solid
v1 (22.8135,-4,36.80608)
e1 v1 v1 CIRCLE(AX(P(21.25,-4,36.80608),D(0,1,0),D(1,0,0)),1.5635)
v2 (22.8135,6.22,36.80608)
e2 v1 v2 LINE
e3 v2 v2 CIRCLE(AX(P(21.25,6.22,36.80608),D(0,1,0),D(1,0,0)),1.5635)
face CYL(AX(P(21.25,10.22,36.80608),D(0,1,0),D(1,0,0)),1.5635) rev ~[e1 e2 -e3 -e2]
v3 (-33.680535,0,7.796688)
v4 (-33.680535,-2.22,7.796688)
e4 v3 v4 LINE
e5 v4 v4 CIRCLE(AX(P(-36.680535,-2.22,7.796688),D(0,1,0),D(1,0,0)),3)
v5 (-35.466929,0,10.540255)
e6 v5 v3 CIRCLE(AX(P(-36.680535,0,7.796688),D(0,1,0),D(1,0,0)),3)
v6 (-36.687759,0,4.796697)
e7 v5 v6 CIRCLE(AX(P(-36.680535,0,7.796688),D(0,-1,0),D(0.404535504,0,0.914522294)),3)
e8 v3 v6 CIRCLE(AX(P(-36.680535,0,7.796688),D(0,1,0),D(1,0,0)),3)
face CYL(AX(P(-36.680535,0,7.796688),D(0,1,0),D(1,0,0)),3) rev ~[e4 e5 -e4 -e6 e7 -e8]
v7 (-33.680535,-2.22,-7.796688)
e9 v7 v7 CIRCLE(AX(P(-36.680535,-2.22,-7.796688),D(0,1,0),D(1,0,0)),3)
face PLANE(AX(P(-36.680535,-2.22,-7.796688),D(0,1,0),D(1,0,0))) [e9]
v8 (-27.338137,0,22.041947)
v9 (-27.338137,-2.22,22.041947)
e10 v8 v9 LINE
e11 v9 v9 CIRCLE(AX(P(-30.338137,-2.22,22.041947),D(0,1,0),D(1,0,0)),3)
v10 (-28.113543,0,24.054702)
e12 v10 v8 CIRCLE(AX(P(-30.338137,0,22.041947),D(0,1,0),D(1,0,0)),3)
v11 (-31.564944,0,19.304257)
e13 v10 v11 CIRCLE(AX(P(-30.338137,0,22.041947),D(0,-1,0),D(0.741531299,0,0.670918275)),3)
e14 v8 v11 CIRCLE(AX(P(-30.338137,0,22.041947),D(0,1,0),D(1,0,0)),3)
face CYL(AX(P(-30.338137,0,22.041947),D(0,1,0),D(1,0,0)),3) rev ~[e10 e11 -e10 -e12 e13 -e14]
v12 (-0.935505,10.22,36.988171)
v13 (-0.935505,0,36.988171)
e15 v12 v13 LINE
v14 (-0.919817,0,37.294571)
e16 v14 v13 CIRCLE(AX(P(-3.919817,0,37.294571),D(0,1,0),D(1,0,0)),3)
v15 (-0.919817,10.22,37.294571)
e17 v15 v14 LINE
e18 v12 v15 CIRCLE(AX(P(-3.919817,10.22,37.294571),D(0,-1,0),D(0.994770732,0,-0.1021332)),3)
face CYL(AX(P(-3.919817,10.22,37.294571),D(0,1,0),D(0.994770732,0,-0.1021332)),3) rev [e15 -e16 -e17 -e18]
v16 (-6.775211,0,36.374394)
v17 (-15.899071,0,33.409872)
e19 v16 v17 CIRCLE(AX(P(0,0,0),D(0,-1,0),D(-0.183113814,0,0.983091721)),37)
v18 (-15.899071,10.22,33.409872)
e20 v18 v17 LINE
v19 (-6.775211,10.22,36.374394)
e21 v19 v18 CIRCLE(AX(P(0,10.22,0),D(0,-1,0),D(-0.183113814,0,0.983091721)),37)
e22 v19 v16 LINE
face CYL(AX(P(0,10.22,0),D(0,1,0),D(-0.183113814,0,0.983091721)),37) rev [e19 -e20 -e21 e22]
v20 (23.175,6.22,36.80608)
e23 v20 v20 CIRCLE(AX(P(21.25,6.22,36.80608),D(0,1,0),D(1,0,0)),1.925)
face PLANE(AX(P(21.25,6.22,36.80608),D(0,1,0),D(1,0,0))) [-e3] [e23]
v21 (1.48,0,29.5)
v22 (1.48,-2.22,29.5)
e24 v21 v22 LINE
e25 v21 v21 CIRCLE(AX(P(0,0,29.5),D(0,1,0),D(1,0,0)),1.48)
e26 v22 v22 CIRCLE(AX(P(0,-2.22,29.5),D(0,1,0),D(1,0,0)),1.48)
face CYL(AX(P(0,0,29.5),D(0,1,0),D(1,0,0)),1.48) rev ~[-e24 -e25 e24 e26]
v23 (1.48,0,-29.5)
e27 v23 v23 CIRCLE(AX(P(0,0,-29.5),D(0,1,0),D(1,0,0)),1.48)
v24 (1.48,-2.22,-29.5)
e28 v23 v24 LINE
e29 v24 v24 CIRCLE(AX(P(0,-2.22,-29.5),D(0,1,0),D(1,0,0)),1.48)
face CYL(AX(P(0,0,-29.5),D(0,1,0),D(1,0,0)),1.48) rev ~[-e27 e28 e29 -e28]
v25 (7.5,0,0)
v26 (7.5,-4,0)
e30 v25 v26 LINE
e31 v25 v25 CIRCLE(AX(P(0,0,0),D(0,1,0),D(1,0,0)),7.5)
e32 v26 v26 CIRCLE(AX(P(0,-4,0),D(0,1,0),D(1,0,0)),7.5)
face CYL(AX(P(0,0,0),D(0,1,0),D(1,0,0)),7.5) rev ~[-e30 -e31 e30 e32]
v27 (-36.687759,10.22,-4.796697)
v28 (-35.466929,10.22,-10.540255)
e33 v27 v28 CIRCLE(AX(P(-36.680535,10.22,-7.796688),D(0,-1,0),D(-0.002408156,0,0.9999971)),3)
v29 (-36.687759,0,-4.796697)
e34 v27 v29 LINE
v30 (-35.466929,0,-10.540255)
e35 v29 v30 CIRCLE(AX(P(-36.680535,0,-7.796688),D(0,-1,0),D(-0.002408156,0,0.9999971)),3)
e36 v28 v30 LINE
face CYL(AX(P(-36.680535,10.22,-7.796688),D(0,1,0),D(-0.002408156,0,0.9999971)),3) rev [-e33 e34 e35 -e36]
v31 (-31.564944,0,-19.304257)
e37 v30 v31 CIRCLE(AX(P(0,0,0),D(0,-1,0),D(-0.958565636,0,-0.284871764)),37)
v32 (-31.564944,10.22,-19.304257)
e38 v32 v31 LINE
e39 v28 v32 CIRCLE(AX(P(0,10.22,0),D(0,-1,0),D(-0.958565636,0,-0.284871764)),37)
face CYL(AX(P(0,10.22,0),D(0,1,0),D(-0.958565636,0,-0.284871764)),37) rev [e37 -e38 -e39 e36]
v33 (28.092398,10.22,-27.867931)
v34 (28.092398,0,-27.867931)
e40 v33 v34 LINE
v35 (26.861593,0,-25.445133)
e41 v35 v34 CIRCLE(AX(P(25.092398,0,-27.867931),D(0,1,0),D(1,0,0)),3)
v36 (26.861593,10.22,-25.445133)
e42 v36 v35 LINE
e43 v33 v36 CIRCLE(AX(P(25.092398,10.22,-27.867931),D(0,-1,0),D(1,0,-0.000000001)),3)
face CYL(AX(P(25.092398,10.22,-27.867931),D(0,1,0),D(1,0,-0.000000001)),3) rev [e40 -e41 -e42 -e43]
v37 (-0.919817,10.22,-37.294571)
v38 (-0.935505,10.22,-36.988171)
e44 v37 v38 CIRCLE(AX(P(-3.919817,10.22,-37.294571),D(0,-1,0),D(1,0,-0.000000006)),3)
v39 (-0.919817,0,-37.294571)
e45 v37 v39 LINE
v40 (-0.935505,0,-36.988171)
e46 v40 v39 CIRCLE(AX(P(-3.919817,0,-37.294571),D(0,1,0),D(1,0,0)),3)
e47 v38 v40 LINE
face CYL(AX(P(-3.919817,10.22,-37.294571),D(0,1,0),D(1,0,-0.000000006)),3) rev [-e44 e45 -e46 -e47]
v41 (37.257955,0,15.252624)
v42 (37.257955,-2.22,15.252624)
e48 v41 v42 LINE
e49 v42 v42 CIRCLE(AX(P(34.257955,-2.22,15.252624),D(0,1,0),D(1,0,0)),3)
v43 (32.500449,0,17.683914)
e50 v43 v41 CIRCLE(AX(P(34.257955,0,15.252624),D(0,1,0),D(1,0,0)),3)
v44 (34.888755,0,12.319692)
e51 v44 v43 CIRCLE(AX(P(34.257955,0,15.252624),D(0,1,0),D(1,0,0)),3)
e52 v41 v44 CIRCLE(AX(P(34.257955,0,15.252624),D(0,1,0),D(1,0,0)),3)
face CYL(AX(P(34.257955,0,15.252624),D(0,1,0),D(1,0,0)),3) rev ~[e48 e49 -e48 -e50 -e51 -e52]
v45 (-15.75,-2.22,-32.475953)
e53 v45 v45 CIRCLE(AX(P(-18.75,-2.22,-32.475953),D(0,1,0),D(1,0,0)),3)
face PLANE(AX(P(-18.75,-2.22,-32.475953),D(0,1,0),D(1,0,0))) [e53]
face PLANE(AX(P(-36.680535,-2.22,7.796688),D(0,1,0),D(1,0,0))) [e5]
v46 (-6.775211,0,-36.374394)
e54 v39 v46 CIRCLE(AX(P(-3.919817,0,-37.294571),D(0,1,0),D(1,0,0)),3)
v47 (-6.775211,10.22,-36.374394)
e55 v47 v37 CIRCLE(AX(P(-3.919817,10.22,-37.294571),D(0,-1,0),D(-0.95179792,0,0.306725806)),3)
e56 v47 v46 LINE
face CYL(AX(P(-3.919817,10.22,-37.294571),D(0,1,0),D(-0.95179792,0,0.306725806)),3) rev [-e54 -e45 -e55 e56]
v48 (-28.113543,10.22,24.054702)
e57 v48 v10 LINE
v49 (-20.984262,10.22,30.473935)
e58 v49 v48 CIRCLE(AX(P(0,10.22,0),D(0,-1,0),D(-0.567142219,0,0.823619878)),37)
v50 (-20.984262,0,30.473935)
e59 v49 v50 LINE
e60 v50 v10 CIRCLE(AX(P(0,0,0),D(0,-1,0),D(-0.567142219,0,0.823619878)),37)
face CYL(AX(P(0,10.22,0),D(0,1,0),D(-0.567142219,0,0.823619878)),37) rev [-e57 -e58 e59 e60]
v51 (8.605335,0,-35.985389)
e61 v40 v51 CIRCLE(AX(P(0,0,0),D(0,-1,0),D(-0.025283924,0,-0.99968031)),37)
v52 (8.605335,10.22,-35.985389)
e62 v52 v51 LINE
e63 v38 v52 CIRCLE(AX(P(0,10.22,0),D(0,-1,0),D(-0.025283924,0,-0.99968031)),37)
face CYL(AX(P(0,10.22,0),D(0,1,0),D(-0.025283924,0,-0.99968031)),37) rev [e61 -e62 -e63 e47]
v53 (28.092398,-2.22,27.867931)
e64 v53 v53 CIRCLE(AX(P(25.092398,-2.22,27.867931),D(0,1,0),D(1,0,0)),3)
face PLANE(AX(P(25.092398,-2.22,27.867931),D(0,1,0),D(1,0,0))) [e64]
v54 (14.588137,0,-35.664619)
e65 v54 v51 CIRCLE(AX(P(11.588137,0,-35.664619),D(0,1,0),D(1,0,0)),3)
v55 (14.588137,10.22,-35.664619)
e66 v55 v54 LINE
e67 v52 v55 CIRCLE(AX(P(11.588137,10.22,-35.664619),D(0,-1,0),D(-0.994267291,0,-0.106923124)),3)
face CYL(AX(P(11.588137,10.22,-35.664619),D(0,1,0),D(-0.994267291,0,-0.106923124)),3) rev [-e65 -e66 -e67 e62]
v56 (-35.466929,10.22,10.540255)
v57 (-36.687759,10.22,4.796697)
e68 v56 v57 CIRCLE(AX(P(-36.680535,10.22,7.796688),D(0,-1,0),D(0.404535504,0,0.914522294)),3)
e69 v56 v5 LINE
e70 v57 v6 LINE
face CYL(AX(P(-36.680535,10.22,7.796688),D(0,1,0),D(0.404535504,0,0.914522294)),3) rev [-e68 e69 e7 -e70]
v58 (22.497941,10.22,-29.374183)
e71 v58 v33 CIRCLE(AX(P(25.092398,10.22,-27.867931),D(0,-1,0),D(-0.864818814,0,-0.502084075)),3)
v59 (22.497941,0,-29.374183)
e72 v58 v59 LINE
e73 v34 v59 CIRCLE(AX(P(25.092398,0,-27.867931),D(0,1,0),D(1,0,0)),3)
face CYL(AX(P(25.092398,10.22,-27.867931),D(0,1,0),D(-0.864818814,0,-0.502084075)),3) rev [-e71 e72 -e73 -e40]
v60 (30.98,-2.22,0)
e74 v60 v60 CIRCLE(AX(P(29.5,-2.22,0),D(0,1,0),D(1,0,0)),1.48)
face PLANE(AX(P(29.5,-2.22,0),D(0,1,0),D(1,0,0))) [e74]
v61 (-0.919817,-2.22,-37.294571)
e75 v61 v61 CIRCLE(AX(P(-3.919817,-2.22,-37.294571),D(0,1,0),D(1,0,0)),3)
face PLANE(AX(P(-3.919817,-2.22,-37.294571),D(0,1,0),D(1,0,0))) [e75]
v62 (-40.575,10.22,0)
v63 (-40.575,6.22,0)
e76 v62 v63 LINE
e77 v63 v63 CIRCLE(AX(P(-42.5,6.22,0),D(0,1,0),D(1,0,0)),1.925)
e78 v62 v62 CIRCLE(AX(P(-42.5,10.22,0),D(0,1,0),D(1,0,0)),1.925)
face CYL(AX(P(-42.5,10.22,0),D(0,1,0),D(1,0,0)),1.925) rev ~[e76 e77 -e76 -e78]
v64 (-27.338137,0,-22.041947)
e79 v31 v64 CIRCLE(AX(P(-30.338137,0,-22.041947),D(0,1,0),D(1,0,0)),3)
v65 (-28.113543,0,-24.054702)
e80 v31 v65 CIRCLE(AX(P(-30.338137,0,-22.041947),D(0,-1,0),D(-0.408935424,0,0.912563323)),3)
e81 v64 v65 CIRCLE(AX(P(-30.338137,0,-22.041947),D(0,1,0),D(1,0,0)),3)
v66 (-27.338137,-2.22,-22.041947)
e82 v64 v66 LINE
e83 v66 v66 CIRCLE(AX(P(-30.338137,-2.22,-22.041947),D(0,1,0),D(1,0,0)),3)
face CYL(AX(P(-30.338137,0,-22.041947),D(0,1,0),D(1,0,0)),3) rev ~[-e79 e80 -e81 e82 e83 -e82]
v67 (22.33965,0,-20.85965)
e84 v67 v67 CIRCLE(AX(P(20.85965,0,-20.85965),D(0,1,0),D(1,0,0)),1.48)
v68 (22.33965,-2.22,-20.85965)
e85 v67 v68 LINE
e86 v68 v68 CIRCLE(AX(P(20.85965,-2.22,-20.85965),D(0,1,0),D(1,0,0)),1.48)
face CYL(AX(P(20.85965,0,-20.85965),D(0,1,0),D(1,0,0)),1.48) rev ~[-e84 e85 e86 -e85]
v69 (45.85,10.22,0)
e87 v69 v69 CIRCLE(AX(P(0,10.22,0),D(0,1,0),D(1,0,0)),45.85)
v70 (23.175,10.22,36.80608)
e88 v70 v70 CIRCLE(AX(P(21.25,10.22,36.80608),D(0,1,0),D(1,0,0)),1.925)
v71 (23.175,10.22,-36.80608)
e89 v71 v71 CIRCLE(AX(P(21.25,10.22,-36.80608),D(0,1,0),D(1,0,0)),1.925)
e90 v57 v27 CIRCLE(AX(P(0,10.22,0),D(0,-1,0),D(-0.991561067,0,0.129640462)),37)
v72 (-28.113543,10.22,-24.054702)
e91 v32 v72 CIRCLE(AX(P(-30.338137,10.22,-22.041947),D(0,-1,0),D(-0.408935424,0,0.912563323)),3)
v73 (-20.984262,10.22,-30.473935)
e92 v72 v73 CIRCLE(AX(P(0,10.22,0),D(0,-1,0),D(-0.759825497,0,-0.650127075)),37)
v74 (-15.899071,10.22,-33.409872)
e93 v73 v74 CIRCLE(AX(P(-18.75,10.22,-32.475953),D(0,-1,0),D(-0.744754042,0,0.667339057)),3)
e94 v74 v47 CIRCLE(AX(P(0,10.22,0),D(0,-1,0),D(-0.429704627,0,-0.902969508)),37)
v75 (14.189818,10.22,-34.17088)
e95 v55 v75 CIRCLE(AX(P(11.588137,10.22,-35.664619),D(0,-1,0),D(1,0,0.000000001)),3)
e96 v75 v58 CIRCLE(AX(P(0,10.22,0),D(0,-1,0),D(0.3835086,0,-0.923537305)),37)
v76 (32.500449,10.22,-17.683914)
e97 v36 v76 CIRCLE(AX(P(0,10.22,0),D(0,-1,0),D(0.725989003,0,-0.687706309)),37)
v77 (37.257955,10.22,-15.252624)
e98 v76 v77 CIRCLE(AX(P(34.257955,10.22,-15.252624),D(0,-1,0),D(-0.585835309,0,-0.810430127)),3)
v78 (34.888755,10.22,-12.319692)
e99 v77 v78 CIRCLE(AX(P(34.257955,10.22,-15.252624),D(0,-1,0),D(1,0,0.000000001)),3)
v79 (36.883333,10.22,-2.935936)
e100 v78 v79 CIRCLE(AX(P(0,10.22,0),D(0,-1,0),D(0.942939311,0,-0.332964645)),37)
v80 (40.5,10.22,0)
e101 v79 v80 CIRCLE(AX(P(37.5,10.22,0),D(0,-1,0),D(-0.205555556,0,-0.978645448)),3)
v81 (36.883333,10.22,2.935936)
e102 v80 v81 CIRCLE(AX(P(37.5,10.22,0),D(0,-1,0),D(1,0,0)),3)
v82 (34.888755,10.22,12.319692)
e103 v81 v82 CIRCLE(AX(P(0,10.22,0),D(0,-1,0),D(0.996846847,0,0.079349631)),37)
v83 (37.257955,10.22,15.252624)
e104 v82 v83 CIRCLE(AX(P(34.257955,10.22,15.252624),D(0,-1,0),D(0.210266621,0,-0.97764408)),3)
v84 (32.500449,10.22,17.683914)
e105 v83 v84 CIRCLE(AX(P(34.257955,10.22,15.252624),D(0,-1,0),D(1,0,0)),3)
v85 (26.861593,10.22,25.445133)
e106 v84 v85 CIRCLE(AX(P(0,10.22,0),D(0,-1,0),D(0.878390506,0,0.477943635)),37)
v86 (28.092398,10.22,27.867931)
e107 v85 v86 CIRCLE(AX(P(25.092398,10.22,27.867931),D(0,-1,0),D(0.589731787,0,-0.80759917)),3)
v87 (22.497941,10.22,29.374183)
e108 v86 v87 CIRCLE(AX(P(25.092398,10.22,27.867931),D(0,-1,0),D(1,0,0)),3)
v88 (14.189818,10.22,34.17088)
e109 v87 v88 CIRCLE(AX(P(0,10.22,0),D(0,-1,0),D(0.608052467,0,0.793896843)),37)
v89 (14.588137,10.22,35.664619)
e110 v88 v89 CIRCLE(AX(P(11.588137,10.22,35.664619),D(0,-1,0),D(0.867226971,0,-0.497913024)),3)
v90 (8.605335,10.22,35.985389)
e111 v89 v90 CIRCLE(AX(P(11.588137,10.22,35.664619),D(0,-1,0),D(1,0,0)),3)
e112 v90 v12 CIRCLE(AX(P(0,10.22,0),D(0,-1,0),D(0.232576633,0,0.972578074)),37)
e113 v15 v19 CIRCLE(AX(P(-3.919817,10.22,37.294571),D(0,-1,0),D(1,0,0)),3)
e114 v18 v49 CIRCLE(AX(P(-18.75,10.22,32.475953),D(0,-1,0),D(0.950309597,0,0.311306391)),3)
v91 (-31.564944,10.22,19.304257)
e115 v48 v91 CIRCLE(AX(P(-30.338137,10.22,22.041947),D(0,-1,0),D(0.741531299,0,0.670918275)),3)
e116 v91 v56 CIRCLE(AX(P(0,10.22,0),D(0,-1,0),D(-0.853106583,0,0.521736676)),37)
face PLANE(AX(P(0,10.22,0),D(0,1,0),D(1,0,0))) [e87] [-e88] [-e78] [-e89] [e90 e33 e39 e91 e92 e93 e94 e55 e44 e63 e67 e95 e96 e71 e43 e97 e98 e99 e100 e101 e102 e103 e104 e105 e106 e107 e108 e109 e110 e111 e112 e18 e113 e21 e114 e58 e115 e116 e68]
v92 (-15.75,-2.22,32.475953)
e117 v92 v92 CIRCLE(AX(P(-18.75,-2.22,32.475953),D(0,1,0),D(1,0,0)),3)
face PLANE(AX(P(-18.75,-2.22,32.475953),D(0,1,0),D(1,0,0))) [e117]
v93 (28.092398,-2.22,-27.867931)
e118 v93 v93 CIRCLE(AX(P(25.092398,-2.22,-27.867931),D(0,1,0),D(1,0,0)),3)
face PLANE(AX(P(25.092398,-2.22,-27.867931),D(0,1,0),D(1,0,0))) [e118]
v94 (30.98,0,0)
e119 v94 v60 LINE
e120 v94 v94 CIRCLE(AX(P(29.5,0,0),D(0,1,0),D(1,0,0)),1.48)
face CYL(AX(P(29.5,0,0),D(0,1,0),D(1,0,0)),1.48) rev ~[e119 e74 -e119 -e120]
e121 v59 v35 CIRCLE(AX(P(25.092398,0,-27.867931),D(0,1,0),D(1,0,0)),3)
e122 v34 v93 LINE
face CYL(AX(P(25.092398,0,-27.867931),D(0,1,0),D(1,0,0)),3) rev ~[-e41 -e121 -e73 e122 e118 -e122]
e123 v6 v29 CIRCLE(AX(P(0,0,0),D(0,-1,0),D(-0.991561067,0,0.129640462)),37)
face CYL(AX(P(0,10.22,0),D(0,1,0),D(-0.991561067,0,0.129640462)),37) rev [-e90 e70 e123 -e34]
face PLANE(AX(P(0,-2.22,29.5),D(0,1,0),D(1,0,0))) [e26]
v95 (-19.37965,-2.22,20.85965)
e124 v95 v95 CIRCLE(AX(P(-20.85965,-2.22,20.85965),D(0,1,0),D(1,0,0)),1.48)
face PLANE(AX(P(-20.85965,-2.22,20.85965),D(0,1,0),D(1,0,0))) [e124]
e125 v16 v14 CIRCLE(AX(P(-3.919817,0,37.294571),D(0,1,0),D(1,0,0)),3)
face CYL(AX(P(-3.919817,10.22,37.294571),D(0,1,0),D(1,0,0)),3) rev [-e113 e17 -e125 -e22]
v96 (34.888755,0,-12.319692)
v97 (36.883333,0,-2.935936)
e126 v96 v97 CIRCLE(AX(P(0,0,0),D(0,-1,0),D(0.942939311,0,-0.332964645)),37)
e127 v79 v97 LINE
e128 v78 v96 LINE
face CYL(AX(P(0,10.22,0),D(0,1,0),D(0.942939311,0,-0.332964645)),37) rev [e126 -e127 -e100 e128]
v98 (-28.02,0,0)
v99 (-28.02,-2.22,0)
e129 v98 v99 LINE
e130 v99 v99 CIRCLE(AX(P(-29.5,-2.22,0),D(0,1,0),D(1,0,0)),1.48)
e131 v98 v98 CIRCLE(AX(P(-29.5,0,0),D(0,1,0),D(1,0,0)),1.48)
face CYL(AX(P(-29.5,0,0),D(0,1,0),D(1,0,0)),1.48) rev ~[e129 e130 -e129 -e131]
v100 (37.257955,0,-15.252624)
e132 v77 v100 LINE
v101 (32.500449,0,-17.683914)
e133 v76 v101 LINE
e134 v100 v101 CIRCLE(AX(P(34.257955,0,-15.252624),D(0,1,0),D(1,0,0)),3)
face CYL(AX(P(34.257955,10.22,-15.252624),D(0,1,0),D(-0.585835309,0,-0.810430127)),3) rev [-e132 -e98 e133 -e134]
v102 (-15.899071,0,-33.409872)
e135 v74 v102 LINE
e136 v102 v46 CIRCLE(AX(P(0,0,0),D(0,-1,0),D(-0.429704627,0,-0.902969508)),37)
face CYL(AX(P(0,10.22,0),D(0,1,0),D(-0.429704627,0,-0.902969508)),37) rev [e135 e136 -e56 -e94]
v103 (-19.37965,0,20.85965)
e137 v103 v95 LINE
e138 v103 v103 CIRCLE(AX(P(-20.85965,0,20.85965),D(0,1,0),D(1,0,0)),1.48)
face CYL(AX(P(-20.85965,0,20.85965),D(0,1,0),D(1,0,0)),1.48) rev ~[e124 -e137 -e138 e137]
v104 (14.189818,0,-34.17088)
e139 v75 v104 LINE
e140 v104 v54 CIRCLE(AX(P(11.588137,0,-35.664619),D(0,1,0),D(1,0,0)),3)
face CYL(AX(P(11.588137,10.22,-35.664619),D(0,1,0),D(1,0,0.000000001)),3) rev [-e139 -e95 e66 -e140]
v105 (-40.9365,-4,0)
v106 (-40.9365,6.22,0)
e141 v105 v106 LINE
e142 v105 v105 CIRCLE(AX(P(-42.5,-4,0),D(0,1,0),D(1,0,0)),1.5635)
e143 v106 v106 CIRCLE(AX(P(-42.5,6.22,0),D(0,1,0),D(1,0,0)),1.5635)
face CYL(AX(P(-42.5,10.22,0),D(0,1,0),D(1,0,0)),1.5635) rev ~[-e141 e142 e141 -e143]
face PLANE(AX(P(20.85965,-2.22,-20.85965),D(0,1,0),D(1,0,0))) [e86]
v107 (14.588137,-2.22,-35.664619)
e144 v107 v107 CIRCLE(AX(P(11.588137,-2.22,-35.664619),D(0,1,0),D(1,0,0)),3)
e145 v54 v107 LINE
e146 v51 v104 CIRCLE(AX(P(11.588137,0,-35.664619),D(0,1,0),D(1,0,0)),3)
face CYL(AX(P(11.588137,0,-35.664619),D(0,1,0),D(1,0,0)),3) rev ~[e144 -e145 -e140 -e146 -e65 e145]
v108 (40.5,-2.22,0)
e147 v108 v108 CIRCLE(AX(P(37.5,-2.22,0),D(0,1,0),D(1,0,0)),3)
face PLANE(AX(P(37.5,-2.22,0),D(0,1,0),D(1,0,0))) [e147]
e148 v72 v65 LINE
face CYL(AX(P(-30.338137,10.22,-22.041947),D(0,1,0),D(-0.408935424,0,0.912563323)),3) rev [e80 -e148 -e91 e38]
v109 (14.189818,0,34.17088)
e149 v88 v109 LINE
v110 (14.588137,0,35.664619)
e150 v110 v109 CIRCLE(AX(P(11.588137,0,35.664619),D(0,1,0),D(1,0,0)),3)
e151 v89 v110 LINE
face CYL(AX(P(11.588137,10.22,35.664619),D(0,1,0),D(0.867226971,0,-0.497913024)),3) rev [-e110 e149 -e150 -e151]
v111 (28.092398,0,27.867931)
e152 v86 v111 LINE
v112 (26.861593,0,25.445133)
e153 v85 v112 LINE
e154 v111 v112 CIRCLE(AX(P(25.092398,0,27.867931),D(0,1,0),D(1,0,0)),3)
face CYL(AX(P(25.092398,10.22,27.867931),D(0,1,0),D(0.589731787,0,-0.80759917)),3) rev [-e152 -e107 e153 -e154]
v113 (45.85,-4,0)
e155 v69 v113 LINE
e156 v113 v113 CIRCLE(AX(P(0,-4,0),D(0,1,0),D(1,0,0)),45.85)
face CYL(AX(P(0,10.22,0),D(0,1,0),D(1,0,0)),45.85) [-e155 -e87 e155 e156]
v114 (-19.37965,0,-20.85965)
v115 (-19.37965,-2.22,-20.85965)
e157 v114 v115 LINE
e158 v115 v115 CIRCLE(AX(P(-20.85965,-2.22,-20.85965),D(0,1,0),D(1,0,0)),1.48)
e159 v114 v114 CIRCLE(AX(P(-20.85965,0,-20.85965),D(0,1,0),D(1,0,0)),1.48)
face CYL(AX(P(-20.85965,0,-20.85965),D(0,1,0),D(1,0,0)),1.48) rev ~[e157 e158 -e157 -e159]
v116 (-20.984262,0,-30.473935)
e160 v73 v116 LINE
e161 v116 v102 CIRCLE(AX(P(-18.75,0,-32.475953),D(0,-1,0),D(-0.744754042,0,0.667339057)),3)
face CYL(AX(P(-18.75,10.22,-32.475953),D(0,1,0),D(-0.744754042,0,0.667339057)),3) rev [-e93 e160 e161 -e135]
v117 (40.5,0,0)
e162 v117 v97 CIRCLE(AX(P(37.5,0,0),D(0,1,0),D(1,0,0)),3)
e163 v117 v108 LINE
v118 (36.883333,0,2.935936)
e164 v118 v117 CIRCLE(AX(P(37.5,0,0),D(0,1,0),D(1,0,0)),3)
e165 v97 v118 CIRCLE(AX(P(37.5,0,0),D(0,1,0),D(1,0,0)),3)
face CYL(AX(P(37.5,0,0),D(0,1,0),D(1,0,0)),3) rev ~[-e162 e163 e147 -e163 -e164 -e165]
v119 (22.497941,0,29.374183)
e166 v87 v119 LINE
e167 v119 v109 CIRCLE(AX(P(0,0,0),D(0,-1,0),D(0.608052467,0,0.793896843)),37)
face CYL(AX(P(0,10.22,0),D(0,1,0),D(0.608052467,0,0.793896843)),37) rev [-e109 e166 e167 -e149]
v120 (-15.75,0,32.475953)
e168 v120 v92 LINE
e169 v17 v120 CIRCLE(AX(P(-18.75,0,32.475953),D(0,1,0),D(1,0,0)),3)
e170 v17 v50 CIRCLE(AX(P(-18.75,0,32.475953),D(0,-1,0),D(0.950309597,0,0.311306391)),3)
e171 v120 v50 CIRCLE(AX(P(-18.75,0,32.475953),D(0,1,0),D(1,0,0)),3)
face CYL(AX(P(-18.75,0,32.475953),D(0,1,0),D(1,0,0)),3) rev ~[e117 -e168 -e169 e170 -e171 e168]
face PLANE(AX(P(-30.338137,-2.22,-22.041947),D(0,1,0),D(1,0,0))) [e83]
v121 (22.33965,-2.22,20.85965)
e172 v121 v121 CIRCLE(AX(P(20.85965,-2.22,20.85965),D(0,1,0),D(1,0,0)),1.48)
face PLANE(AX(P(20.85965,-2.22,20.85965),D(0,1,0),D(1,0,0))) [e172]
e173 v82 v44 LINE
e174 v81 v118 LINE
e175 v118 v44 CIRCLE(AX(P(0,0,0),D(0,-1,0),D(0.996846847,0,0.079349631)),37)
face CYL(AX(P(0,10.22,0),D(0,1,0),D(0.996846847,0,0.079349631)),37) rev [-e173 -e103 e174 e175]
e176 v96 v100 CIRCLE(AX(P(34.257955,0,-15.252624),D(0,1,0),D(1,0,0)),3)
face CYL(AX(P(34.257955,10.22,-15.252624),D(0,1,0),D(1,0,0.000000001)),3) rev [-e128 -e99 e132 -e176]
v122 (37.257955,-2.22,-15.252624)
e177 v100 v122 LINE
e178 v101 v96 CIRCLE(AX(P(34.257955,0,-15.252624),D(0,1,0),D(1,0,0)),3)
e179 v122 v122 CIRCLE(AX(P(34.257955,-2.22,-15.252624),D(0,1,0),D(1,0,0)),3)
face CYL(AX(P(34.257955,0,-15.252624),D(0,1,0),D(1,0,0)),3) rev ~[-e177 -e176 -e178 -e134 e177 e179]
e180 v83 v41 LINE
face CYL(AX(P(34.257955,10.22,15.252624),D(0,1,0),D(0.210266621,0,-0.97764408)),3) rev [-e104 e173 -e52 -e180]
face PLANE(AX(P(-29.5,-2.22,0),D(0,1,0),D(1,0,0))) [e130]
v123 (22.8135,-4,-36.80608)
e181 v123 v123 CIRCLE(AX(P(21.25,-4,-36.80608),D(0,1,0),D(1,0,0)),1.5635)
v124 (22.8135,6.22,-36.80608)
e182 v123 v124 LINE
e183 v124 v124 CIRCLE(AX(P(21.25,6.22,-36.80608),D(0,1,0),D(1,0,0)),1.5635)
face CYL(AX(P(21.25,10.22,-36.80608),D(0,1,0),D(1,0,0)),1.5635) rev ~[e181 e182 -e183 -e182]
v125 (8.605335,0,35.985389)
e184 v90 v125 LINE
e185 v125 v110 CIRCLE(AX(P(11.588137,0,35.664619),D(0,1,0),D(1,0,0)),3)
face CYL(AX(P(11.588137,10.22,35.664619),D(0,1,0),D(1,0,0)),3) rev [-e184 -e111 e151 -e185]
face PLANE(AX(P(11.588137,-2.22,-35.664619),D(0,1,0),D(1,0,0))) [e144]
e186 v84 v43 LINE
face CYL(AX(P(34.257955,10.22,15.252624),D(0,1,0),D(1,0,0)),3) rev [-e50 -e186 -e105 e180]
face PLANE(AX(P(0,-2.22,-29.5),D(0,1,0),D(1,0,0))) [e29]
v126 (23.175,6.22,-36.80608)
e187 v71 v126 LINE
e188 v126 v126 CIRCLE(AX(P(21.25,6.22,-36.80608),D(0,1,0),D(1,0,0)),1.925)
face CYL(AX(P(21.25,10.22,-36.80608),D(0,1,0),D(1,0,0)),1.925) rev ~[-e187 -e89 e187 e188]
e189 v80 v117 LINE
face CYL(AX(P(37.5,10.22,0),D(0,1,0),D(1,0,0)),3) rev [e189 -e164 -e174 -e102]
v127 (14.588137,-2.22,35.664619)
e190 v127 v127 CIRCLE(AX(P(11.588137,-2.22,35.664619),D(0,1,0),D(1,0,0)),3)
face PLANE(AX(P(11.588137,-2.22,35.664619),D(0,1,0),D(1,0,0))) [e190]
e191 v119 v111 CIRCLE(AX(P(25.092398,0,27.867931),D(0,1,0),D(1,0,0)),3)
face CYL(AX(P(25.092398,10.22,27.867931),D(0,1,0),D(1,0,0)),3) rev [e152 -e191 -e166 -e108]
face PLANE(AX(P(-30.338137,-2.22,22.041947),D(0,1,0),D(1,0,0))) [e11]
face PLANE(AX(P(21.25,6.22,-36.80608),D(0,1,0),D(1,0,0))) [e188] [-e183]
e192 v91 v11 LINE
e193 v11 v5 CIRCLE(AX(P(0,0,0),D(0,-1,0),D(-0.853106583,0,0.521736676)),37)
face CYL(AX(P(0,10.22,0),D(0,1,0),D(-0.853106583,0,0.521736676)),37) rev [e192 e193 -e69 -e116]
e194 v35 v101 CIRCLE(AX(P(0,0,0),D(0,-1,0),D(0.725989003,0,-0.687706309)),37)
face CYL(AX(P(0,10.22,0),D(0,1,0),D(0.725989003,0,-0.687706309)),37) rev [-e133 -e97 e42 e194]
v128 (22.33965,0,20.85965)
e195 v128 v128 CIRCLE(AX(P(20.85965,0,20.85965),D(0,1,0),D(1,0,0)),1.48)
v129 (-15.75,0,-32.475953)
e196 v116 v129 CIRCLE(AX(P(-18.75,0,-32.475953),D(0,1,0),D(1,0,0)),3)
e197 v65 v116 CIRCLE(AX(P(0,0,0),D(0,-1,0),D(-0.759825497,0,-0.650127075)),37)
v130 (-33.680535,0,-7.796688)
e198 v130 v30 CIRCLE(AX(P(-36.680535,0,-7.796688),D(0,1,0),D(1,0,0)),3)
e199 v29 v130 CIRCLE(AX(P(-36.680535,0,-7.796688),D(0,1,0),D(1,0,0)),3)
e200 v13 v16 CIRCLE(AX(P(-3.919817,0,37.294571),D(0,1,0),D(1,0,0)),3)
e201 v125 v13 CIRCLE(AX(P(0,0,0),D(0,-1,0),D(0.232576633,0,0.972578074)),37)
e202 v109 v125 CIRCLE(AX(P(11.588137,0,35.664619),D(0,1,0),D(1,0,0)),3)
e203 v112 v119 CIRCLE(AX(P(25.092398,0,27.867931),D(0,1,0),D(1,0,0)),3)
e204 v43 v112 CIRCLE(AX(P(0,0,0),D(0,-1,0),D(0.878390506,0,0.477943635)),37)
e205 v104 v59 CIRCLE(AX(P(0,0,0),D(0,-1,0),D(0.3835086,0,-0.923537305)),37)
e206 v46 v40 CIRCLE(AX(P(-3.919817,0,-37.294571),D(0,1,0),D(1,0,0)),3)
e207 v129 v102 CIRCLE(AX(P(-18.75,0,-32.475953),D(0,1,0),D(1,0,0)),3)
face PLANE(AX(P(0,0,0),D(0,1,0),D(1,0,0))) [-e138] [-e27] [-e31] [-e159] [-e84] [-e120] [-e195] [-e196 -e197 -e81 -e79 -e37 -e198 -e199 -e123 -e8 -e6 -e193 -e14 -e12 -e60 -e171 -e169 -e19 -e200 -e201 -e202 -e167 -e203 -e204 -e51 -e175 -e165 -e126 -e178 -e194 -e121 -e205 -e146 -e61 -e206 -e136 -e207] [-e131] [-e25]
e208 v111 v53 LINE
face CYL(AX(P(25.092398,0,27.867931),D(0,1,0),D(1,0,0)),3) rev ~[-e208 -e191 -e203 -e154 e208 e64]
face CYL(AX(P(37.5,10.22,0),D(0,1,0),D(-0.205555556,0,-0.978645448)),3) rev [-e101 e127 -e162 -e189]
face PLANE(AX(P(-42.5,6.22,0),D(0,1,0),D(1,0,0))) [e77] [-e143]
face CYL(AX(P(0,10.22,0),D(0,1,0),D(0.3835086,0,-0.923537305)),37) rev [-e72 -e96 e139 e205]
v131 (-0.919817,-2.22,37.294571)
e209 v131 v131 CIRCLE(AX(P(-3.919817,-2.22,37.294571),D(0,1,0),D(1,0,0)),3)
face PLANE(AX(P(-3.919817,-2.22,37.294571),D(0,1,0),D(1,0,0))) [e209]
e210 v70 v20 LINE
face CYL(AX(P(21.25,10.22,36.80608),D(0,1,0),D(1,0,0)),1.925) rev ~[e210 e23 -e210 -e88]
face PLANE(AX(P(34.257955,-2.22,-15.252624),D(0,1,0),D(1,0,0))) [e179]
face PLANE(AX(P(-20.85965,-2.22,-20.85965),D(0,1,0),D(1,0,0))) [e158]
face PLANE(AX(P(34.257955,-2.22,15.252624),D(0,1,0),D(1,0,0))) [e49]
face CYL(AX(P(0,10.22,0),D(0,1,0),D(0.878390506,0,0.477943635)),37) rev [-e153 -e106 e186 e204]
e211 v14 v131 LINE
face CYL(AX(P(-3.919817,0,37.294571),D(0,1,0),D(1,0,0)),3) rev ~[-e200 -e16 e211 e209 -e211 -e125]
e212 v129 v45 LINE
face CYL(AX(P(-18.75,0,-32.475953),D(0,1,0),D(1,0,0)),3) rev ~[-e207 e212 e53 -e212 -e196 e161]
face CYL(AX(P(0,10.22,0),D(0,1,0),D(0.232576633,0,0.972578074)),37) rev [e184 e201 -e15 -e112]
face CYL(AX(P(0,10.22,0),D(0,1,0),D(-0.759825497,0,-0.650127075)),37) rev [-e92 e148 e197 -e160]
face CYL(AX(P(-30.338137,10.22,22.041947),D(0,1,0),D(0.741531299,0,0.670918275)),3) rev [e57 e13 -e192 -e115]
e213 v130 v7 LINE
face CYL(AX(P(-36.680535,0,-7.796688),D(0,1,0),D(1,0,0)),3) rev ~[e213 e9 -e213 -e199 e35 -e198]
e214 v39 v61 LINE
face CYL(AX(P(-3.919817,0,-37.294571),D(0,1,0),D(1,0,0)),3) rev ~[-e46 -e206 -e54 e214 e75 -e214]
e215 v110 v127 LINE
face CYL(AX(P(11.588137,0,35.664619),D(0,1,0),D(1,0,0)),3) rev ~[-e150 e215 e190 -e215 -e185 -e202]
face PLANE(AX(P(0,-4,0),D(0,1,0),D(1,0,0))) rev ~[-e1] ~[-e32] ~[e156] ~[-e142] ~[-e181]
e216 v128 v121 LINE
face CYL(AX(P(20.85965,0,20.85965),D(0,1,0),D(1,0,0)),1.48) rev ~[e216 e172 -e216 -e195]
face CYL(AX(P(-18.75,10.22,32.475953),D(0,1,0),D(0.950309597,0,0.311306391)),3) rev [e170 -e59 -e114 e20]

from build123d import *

# Parameters (mm, degrees)
SKETCH1_R           = 45.85
SKETCH1_R_2         = 1.5635
SKETCH1_R_3         = 7.5
BOSS_EXTRUDE1_DEPTH = 4
SKETCH1_6_R         = 3
SKETCH1_6_R_2       = 1.48
CUT_EXTRUDE1_DEPTH  = 2.22
BOSS_EXTRUDE2_START = 10.22
SKETCH1_7_R         = 45.85
SKETCH1_7_R_2       = 1.5635
BOSS_EXTRUDE2_DEPTH = 10.22
SKETCH2_R           = 1.925
CUT_EXTRUDE2_DEPTH  = 4


with BuildPart() as part:
    # Sketch1 → Boss-Extrude1 (new body)
    with BuildSketch(Plane(origin=(0, 0, 0), x_dir=(1, 0, 0), z_dir=(0, 1, 0))):
        Circle(SKETCH1_R)
        with Locations((-42.5, 0)):
            Circle(SKETCH1_R_2, mode=Mode.SUBTRACT)
        with Locations((21.25, -36.806079661)):
            Circle(SKETCH1_R_2, mode=Mode.SUBTRACT)
        with Locations((21.25, 36.806079661)):
            Circle(SKETCH1_R_2, mode=Mode.SUBTRACT)
        Circle(SKETCH1_R_3, mode=Mode.SUBTRACT)
    extrude(amount=-BOSS_EXTRUDE1_DEPTH)

    # Sketch1<6> → Cut-Extrude1 (cut)
    with BuildSketch(Plane(origin=(0, 0, 0), x_dir=(1, 0, 0), z_dir=(0, 1, 0))):
        with Locations((37.5, 0)):
            Circle(SKETCH1_6_R)
        with Locations((34.257954662, 15.252624115)):
            Circle(SKETCH1_6_R)
        with Locations((34.257954662, -15.252624115)):
            Circle(SKETCH1_6_R)
        with Locations((25.092397738, 27.867930955)):
            Circle(SKETCH1_6_R)
        with Locations((25.092397738, -27.867930955)):
            Circle(SKETCH1_6_R)
        with Locations((11.588137289, 35.664619361)):
            Circle(SKETCH1_6_R)
        with Locations((11.588137289, -35.664619361)):
            Circle(SKETCH1_6_R)
        with Locations((-3.919817373, 37.294571076)):
            Circle(SKETCH1_6_R)
        with Locations((-3.919817373, -37.294571076)):
            Circle(SKETCH1_6_R)
        with Locations((-18.75, 32.475952642)):
            Circle(SKETCH1_6_R)
        with Locations((-18.75, -32.475952642)):
            Circle(SKETCH1_6_R)
        with Locations((-30.338137289, 22.041946961)):
            Circle(SKETCH1_6_R)
        with Locations((-30.338137289, -22.041946961)):
            Circle(SKETCH1_6_R)
        with Locations((-36.680535028, 7.796688406)):
            Circle(SKETCH1_6_R)
        with Locations((-36.680535028, -7.796688406)):
            Circle(SKETCH1_6_R)
        with Locations((29.5, 0)):
            Circle(SKETCH1_6_R_2)
        with Locations((20.859650045, -20.859650045)):
            Circle(SKETCH1_6_R_2)
        with Locations((0, -29.5)):
            Circle(SKETCH1_6_R_2)
        with Locations((-20.859650045, -20.859650045)):
            Circle(SKETCH1_6_R_2)
        with Locations((-29.5, 0)):
            Circle(SKETCH1_6_R_2)
        with Locations((-20.859650045, 20.859650045)):
            Circle(SKETCH1_6_R_2)
        with Locations((0, 29.5)):
            Circle(SKETCH1_6_R_2)
        with Locations((20.859650045, 20.859650045)):
            Circle(SKETCH1_6_R_2)
    extrude(amount=-CUT_EXTRUDE1_DEPTH, mode=Mode.SUBTRACT)

    # Sketch1<7> → Boss-Extrude2 (add)
    with BuildSketch(Plane(origin=(0, 0, 0), x_dir=(1, 0, 0), z_dir=(0, 1, 0)).offset(BOSS_EXTRUDE2_START)):
        Circle(SKETCH1_7_R)
        with Locations((-42.5, 0)):
            Circle(SKETCH1_7_R_2, mode=Mode.SUBTRACT)
        with Locations((21.25, -36.806079661)):
            Circle(SKETCH1_7_R_2, mode=Mode.SUBTRACT)
        with BuildLine():
            ThreePointArc((36.883333333, 2.935936345), (39.39076704, 2.32916294), (40.5, 0))
            ThreePointArc((40.5, 0), (39.39076704, -2.32916294), (36.883333333, -2.935936345))
            ThreePointArc((36.883333333, -2.935936345), (36.191461227, -7.69273256), (34.888754523, -12.319691873))
            ThreePointArc((34.888754523, -12.319691873), (36.59166411, -13.367471546), (37.257954662, -15.252624115))
            ThreePointArc((37.257954662, -15.252624115), (35.6231437, -17.924001829), (32.500448736, -17.683914497))
            ThreePointArc((32.500448736, -17.683914497), (29.933628792, -21.748054335), (26.861593101, -25.445133446))
            ThreePointArc((26.861593101, -25.445133446), (27.767055295, -26.50917897), (28.092397738, -27.867930955))
            ThreePointArc((28.092397738, -27.867930955), (25.872343464, -30.764771418), (22.497941295, -29.37418318))
            ThreePointArc((22.497941295, -29.37418318), (18.5, -32.04293994), (14.189818202, -34.170880284))
            ThreePointArc((14.189818202, -34.170880284), (14.486847583, -34.891651942), (14.588137289, -35.664619361))
            ThreePointArc((14.588137289, -35.664619361), (11.748752331, -38.660316744), (8.605335417, -35.985388734))
            ThreePointArc((8.605335417, -35.985388734), (3.867553141, -36.797310129), (-0.935505175, -36.988171489))
            ThreePointArc((-0.935505175, -36.988171489), (-0.92374189, -37.141170608), (-0.919817373, -37.294571076))
            ThreePointArc((-0.919817373, -37.294571076), (-4.385552663, -40.258199029), (-6.775211132, -36.37439366))
            ThreePointArc((-6.775211132, -36.37439366), (-11.433628792, -35.189091103), (-15.899071208, -33.409871815))
            ThreePointArc((-15.899071208, -33.409871815), (-20.25, -35.074028853), (-20.984262125, -30.47393547))
            ThreePointArc((-20.984262125, -30.47393547), (-24.757832435, -27.496358543), (-28.113543391, -24.054701786))
            ThreePointArc((-28.113543391, -24.054701786), (-32.765188272, -23.805302718), (-31.564943561, -19.304256991))
            ThreePointArc((-31.564943561, -19.304256991), (-33.801181933, -15.049255794), (-35.466928517, -10.540255288))
            ThreePointArc((-35.466928517, -10.540255288), (-39.61497783, -8.420423478), (-36.687759497, -4.796697105))
            ThreePointArc((-36.687759497, -4.796697105), (-37, 0), (-36.687759497, 4.796697105))
            ThreePointArc((-36.687759497, 4.796697105), (-39.61497783, 8.420423478), (-35.466928517, 10.540255288))
            ThreePointArc((-35.466928517, 10.540255288), (-33.801181933, 15.049255794), (-31.564943561, 19.304256991))
            ThreePointArc((-31.564943561, 19.304256991), (-32.765188272, 23.805302718), (-28.113543391, 24.054701786))
            ThreePointArc((-28.113543391, 24.054701786), (-24.757832435, 27.496358543), (-20.984262125, 30.47393547))
            ThreePointArc((-20.984262125, 30.47393547), (-20.25, 35.074028853), (-15.899071208, 33.409871815))
            ThreePointArc((-15.899071208, 33.409871815), (-11.433628792, 35.189091103), (-6.775211132, 36.37439366))
            ThreePointArc((-6.775211132, 36.37439366), (-4.385552663, 40.258199029), (-0.919817373, 37.294571076))
            ThreePointArc((-0.919817373, 37.294571076), (-0.92374189, 37.141170608), (-0.935505175, 36.988171489))
            ThreePointArc((-0.935505175, 36.988171489), (3.867553141, 36.797310129), (8.605335417, 35.985388734))
            ThreePointArc((8.605335417, 35.985388734), (11.748752331, 38.660316744), (14.588137289, 35.664619361))
            ThreePointArc((14.588137289, 35.664619361), (14.486847583, 34.891651942), (14.189818202, 34.170880284))
            ThreePointArc((14.189818202, 34.170880284), (18.5, 32.04293994), (22.497941295, 29.37418318))
            ThreePointArc((22.497941295, 29.37418318), (25.872343464, 30.764771418), (28.092397738, 27.867930955))
            ThreePointArc((28.092397738, 27.867930955), (27.767055295, 26.50917897), (26.861593101, 25.445133446))
            ThreePointArc((26.861593101, 25.445133446), (29.933628792, 21.748054335), (32.500448736, 17.683914497))
            ThreePointArc((32.500448736, 17.683914497), (35.6231437, 17.924001829), (37.257954662, 15.252624115))
            ThreePointArc((37.257954662, 15.252624115), (36.59166411, 13.367471546), (34.888754523, 12.319691873))
            ThreePointArc((34.888754523, 12.319691873), (36.191461227, 7.69273256), (36.883333333, 2.935936345))
        make_face(mode=Mode.SUBTRACT)
        with Locations((21.25, 36.806079661)):
            Circle(SKETCH1_7_R_2, mode=Mode.SUBTRACT)
    extrude(amount=-BOSS_EXTRUDE2_DEPTH)

    # Sketch2 → Cut-Extrude2 (cut)
    with BuildSketch(Plane(origin=(0, 10.22, 0), x_dir=(1, 0, 0), z_dir=(0, 1, 0))):
        with Locations((-42.5, 0)):
            Circle(SKETCH2_R)
        with Locations((21.25, 36.806079661)):
            Circle(SKETCH2_R)
        with Locations((21.25, -36.806079661)):
            Circle(SKETCH2_R)
    extrude(amount=-CUT_EXTRUDE2_DEPTH, mode=Mode.SUBTRACT)


solid = part.part
